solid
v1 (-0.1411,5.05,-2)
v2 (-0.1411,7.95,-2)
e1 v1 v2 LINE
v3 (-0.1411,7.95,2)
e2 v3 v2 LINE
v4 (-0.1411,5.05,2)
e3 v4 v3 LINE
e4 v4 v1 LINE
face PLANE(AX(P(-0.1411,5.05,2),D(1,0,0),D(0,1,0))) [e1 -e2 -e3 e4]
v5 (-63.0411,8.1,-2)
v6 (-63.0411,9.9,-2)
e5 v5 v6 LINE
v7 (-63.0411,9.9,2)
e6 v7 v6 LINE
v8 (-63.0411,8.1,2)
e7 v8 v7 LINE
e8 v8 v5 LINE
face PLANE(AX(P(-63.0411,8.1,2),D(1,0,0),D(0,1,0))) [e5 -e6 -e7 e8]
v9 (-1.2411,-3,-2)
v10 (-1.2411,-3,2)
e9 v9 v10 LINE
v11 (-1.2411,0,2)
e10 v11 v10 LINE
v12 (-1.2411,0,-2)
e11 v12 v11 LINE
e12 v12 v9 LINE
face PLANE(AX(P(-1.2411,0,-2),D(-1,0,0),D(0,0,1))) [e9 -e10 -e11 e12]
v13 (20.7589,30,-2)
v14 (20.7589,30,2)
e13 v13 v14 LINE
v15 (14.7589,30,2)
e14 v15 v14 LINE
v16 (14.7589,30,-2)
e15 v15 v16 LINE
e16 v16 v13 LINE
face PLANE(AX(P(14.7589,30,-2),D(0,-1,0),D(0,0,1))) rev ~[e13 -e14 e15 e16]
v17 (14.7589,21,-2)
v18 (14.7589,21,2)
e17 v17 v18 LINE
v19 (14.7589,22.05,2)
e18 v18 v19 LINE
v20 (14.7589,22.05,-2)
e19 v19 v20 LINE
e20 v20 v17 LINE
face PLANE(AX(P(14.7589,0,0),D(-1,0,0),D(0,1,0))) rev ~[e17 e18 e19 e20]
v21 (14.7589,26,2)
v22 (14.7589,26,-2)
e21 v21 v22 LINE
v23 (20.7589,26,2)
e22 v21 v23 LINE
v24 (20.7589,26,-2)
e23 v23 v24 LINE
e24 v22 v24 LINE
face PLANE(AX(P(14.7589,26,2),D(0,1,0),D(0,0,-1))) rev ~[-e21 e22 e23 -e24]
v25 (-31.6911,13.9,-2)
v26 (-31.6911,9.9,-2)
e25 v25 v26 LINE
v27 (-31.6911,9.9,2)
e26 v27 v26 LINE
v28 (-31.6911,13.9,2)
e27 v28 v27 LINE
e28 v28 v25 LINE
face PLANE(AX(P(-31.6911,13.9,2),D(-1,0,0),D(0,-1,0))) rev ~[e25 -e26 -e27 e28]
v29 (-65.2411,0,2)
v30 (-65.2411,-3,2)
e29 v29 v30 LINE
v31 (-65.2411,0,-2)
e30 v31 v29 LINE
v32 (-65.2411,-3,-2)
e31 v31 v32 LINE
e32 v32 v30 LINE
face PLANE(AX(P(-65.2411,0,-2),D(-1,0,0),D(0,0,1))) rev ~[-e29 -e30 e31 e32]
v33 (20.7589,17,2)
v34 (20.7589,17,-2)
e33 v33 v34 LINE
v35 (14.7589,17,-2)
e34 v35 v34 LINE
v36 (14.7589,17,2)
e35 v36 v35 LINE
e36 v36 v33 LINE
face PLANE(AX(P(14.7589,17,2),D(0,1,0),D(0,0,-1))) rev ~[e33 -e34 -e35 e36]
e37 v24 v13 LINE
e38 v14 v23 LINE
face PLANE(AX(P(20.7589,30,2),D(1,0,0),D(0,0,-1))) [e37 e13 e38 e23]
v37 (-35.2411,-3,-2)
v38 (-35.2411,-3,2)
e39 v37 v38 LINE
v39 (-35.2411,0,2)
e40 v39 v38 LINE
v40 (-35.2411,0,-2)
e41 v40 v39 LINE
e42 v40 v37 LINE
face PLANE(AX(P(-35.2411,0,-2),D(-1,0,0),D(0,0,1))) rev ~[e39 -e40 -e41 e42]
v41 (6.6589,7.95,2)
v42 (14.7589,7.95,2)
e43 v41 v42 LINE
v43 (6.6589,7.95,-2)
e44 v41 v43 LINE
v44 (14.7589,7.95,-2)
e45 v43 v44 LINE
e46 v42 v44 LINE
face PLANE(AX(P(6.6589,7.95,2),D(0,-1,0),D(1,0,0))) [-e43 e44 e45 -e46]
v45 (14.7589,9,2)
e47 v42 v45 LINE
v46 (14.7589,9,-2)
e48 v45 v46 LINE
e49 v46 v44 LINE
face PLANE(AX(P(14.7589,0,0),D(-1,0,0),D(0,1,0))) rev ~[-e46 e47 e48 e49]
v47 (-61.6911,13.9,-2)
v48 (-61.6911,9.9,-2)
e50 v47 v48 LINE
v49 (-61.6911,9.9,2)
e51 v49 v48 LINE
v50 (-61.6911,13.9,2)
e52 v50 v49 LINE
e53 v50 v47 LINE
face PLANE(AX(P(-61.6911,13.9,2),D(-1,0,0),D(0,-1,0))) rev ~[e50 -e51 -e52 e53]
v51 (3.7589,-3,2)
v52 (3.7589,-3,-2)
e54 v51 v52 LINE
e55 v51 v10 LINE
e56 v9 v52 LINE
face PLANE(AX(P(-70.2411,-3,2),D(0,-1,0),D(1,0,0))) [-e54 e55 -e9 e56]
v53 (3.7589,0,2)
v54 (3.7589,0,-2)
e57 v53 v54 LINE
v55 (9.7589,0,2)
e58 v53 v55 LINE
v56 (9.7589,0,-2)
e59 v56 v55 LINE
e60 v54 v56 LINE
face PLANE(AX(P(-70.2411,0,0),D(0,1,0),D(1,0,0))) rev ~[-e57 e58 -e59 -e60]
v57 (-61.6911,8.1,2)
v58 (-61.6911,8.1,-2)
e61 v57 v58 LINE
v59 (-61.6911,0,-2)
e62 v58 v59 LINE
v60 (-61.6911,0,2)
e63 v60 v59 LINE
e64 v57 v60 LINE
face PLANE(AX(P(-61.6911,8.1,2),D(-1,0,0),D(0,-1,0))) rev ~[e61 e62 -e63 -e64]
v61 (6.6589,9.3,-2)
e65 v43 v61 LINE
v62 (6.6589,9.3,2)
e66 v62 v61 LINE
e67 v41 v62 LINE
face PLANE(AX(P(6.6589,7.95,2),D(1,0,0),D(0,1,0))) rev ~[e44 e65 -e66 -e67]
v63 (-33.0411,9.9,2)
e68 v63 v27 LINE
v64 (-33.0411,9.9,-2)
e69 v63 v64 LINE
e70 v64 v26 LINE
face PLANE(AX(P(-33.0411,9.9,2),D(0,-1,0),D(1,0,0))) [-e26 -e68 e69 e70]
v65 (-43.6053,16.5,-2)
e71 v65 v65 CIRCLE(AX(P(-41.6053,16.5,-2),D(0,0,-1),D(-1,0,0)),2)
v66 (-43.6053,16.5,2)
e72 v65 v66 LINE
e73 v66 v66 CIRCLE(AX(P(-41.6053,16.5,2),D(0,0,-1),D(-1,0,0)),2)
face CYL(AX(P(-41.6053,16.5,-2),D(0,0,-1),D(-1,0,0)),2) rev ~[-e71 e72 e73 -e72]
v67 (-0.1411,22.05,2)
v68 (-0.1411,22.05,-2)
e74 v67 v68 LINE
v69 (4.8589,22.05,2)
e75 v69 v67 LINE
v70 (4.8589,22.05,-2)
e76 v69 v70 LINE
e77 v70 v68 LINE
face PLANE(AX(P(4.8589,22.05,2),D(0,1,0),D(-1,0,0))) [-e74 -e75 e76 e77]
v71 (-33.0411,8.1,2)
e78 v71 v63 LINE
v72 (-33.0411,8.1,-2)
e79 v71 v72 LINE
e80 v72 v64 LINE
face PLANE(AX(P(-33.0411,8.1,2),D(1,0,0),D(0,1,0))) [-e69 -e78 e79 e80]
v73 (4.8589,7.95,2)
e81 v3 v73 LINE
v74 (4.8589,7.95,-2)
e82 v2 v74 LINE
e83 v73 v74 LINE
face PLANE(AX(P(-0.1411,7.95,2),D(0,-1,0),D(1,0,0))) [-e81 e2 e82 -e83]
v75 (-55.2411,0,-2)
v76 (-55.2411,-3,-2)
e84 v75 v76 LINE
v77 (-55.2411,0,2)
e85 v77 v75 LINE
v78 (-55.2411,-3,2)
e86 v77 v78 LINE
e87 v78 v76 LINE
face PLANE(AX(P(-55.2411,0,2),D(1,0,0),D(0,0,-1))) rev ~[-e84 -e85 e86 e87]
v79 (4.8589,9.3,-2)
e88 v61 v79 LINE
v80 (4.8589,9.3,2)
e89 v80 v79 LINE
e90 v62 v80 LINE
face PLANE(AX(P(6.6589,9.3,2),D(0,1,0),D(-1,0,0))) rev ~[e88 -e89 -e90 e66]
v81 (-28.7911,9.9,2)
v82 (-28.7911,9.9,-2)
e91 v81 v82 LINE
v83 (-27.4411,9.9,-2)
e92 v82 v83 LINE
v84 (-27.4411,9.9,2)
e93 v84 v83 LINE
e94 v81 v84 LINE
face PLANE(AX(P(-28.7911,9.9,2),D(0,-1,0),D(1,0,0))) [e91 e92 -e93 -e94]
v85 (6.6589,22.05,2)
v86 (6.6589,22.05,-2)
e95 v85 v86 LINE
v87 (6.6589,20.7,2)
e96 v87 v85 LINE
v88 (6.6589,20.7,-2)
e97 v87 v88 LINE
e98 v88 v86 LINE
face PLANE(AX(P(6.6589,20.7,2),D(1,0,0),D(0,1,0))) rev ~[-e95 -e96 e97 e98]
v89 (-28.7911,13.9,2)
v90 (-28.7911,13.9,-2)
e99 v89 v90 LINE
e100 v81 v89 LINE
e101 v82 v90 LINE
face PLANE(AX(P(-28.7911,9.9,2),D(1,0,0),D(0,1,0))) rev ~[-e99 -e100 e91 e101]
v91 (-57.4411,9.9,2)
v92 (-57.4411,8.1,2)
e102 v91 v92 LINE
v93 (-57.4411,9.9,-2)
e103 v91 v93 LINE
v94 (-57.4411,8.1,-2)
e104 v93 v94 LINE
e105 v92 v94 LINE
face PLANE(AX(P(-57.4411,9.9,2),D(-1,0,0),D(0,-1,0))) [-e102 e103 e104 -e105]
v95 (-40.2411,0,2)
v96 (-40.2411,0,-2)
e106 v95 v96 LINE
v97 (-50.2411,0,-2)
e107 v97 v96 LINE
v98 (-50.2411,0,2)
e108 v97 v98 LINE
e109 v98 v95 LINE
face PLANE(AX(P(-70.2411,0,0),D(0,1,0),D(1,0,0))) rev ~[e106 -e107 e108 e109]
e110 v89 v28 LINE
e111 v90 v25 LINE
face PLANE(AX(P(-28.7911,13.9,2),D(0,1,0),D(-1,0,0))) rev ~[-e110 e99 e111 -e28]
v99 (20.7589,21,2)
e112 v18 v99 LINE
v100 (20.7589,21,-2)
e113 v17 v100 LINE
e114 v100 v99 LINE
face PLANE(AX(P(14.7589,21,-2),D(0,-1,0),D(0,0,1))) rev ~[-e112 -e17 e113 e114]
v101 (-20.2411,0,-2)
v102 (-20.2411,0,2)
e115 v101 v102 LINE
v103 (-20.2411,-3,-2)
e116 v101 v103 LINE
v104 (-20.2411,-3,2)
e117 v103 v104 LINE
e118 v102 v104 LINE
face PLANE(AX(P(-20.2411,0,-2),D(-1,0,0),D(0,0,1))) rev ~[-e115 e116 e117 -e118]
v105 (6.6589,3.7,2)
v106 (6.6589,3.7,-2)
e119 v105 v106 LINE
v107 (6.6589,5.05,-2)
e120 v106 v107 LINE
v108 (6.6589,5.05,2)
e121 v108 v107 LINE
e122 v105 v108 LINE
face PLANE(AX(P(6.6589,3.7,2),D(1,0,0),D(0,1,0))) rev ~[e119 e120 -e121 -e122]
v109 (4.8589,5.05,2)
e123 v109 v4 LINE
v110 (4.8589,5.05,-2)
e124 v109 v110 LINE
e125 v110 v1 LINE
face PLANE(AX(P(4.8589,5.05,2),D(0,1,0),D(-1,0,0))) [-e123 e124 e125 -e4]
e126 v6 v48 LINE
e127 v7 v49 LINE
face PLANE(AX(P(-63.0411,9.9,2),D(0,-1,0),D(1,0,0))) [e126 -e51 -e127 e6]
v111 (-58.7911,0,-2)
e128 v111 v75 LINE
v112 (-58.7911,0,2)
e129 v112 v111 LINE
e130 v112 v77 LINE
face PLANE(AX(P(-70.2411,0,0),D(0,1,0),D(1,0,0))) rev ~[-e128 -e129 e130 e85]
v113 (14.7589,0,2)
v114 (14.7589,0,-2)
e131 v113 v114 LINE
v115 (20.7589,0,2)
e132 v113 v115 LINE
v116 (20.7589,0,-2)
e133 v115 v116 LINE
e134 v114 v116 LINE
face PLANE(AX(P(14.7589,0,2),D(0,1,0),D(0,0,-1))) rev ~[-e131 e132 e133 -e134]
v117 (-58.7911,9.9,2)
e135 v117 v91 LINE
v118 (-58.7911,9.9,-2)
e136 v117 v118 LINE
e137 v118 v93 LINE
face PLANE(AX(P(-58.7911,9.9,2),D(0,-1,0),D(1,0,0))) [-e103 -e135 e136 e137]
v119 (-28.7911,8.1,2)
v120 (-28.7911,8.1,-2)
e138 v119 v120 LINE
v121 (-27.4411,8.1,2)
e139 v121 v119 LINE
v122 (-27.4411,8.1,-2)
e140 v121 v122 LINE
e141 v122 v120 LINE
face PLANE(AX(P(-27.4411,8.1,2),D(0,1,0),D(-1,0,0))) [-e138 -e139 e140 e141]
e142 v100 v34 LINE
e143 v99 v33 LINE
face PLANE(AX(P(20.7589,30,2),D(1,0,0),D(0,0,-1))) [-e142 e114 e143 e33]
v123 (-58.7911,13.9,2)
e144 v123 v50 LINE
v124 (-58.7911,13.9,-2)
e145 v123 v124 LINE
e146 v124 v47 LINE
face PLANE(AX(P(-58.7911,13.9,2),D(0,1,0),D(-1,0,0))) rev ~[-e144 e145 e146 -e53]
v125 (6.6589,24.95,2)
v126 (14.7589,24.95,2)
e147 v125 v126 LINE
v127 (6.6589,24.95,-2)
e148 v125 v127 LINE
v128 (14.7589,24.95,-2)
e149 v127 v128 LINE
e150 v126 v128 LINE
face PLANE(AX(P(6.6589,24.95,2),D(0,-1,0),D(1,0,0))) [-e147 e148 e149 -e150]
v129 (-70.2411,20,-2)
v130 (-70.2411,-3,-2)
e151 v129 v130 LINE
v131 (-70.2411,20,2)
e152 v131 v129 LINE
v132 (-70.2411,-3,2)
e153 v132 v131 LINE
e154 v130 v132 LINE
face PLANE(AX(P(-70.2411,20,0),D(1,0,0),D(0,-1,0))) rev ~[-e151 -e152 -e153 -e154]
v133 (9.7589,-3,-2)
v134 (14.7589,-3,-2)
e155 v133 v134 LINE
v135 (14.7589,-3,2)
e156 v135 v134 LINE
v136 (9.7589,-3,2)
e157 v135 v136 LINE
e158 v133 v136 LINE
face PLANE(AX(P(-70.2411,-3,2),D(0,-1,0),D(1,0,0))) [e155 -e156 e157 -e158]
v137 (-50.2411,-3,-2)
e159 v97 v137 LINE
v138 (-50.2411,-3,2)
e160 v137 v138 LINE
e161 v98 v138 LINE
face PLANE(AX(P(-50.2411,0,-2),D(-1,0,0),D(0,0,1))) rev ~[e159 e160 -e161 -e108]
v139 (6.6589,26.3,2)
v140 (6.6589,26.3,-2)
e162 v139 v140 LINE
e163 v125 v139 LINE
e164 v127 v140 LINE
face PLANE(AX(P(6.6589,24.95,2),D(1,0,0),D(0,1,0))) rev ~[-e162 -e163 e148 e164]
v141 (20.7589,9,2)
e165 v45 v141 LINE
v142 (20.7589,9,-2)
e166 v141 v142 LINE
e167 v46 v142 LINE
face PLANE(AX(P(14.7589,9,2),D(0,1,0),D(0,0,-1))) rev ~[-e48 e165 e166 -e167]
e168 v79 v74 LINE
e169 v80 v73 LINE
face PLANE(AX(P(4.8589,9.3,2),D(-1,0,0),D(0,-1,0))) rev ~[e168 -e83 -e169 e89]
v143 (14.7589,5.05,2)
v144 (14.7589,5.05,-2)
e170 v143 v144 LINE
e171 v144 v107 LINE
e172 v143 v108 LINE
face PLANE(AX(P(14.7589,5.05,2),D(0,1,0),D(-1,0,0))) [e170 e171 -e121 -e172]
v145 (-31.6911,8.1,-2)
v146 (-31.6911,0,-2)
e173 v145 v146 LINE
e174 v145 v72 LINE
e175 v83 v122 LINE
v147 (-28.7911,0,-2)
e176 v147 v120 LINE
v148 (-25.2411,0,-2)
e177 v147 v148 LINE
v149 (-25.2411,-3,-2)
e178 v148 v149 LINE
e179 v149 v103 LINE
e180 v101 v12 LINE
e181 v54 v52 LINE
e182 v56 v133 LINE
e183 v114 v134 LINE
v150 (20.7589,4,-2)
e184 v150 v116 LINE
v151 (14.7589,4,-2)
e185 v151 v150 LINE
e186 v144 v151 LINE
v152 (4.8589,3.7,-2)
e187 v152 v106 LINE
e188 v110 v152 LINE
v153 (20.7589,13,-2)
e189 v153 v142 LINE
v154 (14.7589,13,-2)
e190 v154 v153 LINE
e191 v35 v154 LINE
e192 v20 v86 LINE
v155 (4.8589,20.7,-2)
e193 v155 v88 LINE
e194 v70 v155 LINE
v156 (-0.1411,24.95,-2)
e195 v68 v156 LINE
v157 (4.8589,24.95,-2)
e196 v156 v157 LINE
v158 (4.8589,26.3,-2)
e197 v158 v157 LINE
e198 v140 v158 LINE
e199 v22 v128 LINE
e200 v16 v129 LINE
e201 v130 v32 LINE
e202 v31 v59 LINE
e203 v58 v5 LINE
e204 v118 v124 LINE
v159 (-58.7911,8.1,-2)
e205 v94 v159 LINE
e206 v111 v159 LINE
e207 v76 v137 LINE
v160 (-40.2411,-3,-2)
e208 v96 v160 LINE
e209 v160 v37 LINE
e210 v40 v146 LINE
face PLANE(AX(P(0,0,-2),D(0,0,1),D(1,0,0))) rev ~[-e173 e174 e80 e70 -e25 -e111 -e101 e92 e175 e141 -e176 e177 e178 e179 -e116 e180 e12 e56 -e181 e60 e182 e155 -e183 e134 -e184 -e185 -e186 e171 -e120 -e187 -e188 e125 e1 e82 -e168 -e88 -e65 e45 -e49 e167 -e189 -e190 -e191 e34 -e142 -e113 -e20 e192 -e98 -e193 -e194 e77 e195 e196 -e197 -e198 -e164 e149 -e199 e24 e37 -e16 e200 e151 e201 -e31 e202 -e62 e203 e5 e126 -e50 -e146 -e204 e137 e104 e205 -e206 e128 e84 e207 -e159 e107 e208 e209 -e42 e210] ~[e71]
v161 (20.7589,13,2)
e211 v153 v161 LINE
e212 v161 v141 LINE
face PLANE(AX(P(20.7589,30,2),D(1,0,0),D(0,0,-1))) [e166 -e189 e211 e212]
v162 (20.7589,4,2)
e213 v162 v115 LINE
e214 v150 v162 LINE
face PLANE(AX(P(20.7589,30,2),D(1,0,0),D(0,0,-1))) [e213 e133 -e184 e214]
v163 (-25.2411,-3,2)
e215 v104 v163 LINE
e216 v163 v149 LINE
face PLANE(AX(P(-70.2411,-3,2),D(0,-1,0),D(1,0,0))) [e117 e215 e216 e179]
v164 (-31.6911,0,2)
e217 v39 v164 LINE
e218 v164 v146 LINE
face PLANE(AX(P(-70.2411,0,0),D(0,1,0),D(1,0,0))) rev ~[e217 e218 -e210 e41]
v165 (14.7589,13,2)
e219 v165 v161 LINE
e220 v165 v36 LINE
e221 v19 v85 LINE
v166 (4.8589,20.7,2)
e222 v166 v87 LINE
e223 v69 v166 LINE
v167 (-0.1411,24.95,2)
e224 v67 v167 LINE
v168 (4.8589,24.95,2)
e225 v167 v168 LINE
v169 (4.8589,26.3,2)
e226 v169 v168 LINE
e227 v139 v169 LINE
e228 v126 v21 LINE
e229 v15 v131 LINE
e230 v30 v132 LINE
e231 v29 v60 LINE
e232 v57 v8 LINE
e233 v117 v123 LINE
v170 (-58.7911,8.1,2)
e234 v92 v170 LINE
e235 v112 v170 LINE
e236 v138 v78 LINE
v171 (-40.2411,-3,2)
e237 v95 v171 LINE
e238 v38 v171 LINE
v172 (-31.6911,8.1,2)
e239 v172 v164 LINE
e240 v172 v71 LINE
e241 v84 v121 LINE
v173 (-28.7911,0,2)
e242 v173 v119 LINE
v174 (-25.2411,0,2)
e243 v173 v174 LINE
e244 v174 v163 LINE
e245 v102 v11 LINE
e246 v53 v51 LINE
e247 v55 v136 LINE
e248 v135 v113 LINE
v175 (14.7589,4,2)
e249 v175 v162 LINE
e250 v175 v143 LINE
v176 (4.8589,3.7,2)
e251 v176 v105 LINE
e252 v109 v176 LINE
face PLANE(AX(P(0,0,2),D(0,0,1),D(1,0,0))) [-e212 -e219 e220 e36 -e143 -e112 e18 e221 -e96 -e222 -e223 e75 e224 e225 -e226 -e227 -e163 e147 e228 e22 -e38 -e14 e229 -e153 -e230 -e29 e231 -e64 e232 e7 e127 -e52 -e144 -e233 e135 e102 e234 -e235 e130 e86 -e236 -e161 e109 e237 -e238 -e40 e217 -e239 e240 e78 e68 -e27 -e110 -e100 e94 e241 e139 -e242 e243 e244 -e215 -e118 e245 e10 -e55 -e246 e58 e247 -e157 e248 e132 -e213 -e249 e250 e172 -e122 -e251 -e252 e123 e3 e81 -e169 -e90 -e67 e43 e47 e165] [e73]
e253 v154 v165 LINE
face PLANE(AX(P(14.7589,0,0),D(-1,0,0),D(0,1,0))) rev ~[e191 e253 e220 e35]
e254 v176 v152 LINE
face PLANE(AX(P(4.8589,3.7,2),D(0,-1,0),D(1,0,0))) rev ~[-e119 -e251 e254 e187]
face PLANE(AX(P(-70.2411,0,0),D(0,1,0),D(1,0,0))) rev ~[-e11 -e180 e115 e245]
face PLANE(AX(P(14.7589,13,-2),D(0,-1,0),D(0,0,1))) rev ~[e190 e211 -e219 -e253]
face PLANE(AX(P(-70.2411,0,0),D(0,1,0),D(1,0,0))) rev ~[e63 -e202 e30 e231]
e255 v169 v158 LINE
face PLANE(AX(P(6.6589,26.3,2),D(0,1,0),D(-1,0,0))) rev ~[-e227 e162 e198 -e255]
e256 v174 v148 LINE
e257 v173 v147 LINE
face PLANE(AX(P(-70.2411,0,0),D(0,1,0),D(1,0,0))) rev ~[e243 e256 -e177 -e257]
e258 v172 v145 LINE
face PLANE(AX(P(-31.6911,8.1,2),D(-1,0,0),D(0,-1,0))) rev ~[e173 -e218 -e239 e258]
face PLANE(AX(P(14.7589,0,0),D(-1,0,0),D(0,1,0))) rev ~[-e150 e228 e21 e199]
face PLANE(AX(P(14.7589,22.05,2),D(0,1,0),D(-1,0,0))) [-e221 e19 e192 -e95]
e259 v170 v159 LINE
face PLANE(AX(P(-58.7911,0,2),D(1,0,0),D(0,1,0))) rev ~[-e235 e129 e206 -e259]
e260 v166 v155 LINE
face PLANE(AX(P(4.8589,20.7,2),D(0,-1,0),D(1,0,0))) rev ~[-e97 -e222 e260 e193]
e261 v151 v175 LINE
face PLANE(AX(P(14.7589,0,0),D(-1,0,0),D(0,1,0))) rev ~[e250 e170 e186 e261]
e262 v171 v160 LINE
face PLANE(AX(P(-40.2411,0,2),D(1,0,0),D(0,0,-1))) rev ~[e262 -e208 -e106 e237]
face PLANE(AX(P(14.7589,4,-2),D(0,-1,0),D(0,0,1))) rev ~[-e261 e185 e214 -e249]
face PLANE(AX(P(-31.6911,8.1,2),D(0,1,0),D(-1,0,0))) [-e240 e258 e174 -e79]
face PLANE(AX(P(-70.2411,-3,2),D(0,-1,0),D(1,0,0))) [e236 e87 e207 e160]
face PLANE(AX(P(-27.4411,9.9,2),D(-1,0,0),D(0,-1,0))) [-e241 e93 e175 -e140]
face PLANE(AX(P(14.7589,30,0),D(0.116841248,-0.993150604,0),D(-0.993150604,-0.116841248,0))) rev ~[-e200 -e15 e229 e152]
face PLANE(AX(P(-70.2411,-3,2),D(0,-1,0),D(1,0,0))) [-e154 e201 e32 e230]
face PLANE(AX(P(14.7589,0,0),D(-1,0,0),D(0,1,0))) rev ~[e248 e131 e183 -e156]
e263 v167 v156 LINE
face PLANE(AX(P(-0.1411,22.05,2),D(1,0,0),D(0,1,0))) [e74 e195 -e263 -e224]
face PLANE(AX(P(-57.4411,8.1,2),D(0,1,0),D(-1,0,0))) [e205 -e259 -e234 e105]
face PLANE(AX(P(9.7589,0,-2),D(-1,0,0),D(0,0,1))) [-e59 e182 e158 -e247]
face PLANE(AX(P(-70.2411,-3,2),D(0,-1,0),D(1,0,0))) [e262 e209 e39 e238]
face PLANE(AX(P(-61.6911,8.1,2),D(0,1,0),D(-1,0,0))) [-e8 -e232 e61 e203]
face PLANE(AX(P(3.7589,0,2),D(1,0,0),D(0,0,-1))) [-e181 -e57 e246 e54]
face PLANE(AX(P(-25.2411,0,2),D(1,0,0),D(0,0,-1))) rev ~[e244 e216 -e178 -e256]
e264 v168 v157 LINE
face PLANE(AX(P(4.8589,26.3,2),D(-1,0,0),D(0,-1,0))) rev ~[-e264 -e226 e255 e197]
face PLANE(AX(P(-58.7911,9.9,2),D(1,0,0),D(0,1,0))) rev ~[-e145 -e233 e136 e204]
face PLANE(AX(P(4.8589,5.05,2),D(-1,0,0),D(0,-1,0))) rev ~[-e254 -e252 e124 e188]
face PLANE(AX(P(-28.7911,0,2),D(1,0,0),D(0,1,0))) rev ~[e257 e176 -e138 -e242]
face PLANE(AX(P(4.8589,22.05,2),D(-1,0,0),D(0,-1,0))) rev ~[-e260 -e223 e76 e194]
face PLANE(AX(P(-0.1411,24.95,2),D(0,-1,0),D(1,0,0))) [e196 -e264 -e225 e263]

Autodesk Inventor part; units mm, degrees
sketch "Эскиз1" plane through (0, 0, 0) normal (0, 0, 1) x (1, 0, 0)
  line L0 (-70.2411, 0) -> (14.7589, 0)
  line L1 (14.7589, 0) -> (14.7589, 30)
  line L2 (14.7589, 30) -> (-70.2411, 20)
  line L3 (0, 36) -> (0, -6) construction
  line L4 (-70.2411, 20) -> (-70.2411, 0)
  point P0 (0, 0)
  dimension "d0" = 30
  dimension "d1" = 85
  dimension "d46" = 14.7589
  dimension "d47" = 20
extrude "Выдавливание1" add sketch "Эскиз1" along normal mid plane 4
sketch "Эскиз2" plane through (-70.2411, 0, 2) normal (0, -1, 0) x (1, 0, 0)
  line L0 (0, -4) -> (0, 0) projected
  line L1 (85, 0) -> (0, 0) projected
  line L2 (0, -4) -> (5, -4)
  line L3 (5, -4) -> (5, 0)
  line L4 (5, 0) -> (0, 0)
  line L5 (0, 0) -> (0, -4)
  line L6 (0, -4) -> (85, -4) projected
  line L7 (15, -4) -> (20, -4)
  line L8 (20, -4) -> (20, 0)
  line L9 (20, 0) -> (15, 0)
  line L10 (15, 0) -> (15, -4)
  line L11 (30, -4) -> (35, -4)
  line L12 (35, -4) -> (35, 0)
  line L13 (35, 0) -> (30, 0)
  line L14 (30, 0) -> (30, -4)
  line L15 (45, -4) -> (50, -4)
  line L16 (50, -4) -> (50, 0)
  line L17 (50, 0) -> (45, 0)
  line L18 (45, 0) -> (45, -4)
  line L19 (85, -4) -> (80, -4)
  line L20 (80, -4) -> (80, 0)
  line L21 (80, 0) -> (85, 0)
  line L22 (85, 0) -> (85, -4)
  line L23 (74, -4) -> (69, -4)
  line L24 (69, -4) -> (69, 0)
  line L25 (69, 0) -> (74, 0)
  line L26 (74, 0) -> (74, -4)
  point P0 (70.2411, -2)
  point P1 (15, 0)
  point P2 (45, 0)
  point P3 (74, 0)
  dimension "d4" = 5
  dimension "d5" = 5
  dimension "d6" = 10
  dimension "d9" = 30
  dimension "d14" = 5
  dimension "d15" = 5
  dimension "d16" = 6
extrude "Выдавливание2" add sketch "Эскиз2" along normal blind 3 contours L0 L1 L3 L2 | L10 L1 L8 L6 | L14 L1 L12 L6 | L18 L1 L16 L6 | L24 L1 L26 L6 | L20 L1 L22 L6
sketch "Эскиз3" plane through (14.7589, 30, 2) normal (1, 0, 0) x (0, 0, -1)
  line L0 (4, 0) -> (0, 0) projected
  line L1 (4, 0) -> (0, 0)
  line L2 (0, 0) -> (0, -4)
  line L3 (0, -4) -> (4, -4)
  line L4 (4, -4) -> (4, 0)
  line L5 (4, -9) -> (0, -9)
  line L6 (0, -9) -> (0, -13)
  line L7 (0, -13) -> (4, -13)
  line L8 (4, -13) -> (4, -9)
  line L9 (4, 0) -> (4, -33) projected
  line L10 (4, -10) -> (4, 0) projected
  line L11 (0, 0) -> (0, -33) projected
  line L12 (4, -17) -> (0, -17)
  line L13 (0, -17) -> (0, -21)
  line L14 (0, -21) -> (4, -21)
  line L15 (4, -21) -> (4, -17)
  line L16 (4, -26) -> (0, -26)
  line L17 (0, -26) -> (0, -30)
  line L18 (0, -30) -> (4, -30)
  line L19 (4, -30) -> (4, -26)
  point P0 (2, -30)
  point P1 (4, -30)
  point P2 (4, -16.5)
  point P3 (4, -30)
  point P4 (0, -26)
  point P5 (0, -17)
  dimension "d19" = 4
  dimension "d20" = 4
  dimension "d21" = 5
  dimension "d29" = 4
  dimension "d30" = 5
  dimension "d31" = 4
  dimension "d32" = 4
extrude "Выдавливание3" add sketch "Эскиз3" along normal blind 6 contours L4 L3 L2 L0 | L8 L7 L6 L5 | L12 L9 L14 L11 | L16 L9 L18 L11
sketch "Эскиз4" plane through (0, 0, 2) normal (0, 0, 1) x (1, 0, 0)
  line L0 (-0.1411, 5.05) -> (-0.1411, 7.95)
  line L1 (14.7589, 7.95) -> (14.7589, 5.05)
  line L2 (6.6589, 9.3) -> (4.8589, 9.3)
  line L3 (4.8589, 3.7) -> (6.6589, 3.7)
  line L4 (14.7589, 9) -> (14.7589, 4) projected
  line L5 (14.7589, 6.5) -> (-0.1411, 6.5) construction
  line L6 (-0.1411, 7.95) -> (4.8589, 7.95)
  line L7 (6.6589, 7.95) -> (14.7589, 7.95)
  line L8 (6.6589, 3.7) -> (6.6589, 5.05)
  line L9 (6.6589, 7.95) -> (6.6589, 9.3)
  line L10 (4.8589, 9.3) -> (4.8589, 7.95)
  line L11 (4.8589, 5.05) -> (4.8589, 3.7)
  line L12 (14.7589, 5.05) -> (6.6589, 5.05)
  line L13 (4.8589, 5.05) -> (-0.1411, 5.05)
  line L14 (-0.1411, 22.05) -> (-0.1411, 24.95)
  line L15 (14.7589, 24.95) -> (14.7589, 22.05)
  line L16 (6.6589, 26.3) -> (4.8589, 26.3)
  line L17 (4.8589, 20.7) -> (6.6589, 20.7)
  line L18 (14.7589, 23.5) -> (-0.1411, 23.5) construction
  line L19 (-0.1411, 24.95) -> (4.8589, 24.95)
  line L20 (6.6589, 24.95) -> (14.7589, 24.95)
  line L21 (6.6589, 20.7) -> (6.6589, 22.05)
  line L22 (6.6589, 24.95) -> (6.6589, 26.3)
  line L23 (4.8589, 26.3) -> (4.8589, 24.95)
  line L24 (4.8589, 22.05) -> (4.8589, 20.7)
  line L25 (14.7589, 22.05) -> (6.6589, 22.05)
  line L26 (4.8589, 22.05) -> (-0.1411, 22.05)
  line L27 (14.7589, 26) -> (14.7589, 21) projected
  point P0 (0, 0)
  dimension "d33" = 2.9
  dimension "d34" = 1.8
  dimension "d35" = 5.6
  dimension "d37" = 1.35
  dimension "d38" = 5
  dimension "d39" = 8.1
  dimension "d40" = 2.9
  dimension "d41" = 1.8
  dimension "d42" = 5.6
  dimension "d43" = 1.35
  dimension "d44" = 5
  dimension "d45" = 8.1
extrude "Выдавливание4" cut sketch "Эскиз4" against normal up to surface (4 mm away)
sketch "Эскиз5" plane through (0, 0, 2) normal (0, 0, 1) x (1, 0, 0)
  line L0 (-61.6911, 0) -> (-58.7911, 0)
  line L1 (-58.7911, 13.9) -> (-61.6911, 13.9)
  line L2 (-31.6911, 0) -> (-28.7911, 0)
  line L3 (-28.7911, 13.9) -> (-31.6911, 13.9)
  line L4 (-60.2411, 0) -> (-60.2411, 13.9) construction
  line L5 (-30.2411, 13.9) -> (-30.2411, 0) construction
  line L6 (-57.4411, 9.9) -> (-57.4411, 8.1)
  line L7 (-63.0411, 8.1) -> (-63.0411, 9.9)
  line L8 (-27.4411, 9.9) -> (-27.4411, 8.1)
  line L9 (-33.0411, 8.1) -> (-33.0411, 9.9)
  line L10 (-63.0411, 9.9) -> (-61.6911, 9.9)
  line L11 (-58.7911, 9.9) -> (-57.4411, 9.9)
  line L12 (-61.6911, 13.9) -> (-61.6911, 9.9)
  line L13 (-61.6911, 8.1) -> (-61.6911, 0)
  line L14 (-57.4411, 8.1) -> (-58.7911, 8.1)
  line L15 (-61.6911, 8.1) -> (-63.0411, 8.1)
  line L16 (-58.7911, 0) -> (-58.7911, 8.1)
  line L17 (-58.7911, 9.9) -> (-58.7911, 13.9)
  line L18 (-33.0411, 9.9) -> (-31.6911, 9.9)
  line L19 (-28.7911, 9.9) -> (-27.4411, 9.9)
  line L20 (-27.4411, 8.1) -> (-28.7911, 8.1)
  line L21 (-31.6911, 8.1) -> (-33.0411, 8.1)
  line L22 (-31.6911, 13.9) -> (-31.6911, 9.9)
  line L23 (-31.6911, 8.1) -> (-31.6911, 0)
  line L24 (-28.7911, 0) -> (-28.7911, 8.1)
  line L25 (-28.7911, 9.9) -> (-28.7911, 13.9)
  line L26 (-65.2411, 0) -> (-55.2411, 0) projected
  line L27 (-35.2411, 0) -> (-25.2411, 0) projected
  point P0 (0, 0)
  dimension "d50" = 1.8
  dimension "d51" = 5.6
  dimension "d52" = 2.9
  dimension "d54" = 1.35
  dimension "d55" = 8.1
  dimension "d56" = 4
extrude "Выдавливание5" cut sketch "Эскиз5" against normal up to surface (4 mm away)
sketch "Эскиз6" plane through (0, 0, -2) normal (0, 0, -1) x (-1, 0, 0)
  circle A0 centre (41.6053, 16.5) radius 2
  point P0 (0, 0)
  dimension "d61" = 4
extrude "Выдавливание6" cut sketch "Эскиз6" against normal up to surface (4 mm away)
properties part number "Ребро жётскости крыла"
